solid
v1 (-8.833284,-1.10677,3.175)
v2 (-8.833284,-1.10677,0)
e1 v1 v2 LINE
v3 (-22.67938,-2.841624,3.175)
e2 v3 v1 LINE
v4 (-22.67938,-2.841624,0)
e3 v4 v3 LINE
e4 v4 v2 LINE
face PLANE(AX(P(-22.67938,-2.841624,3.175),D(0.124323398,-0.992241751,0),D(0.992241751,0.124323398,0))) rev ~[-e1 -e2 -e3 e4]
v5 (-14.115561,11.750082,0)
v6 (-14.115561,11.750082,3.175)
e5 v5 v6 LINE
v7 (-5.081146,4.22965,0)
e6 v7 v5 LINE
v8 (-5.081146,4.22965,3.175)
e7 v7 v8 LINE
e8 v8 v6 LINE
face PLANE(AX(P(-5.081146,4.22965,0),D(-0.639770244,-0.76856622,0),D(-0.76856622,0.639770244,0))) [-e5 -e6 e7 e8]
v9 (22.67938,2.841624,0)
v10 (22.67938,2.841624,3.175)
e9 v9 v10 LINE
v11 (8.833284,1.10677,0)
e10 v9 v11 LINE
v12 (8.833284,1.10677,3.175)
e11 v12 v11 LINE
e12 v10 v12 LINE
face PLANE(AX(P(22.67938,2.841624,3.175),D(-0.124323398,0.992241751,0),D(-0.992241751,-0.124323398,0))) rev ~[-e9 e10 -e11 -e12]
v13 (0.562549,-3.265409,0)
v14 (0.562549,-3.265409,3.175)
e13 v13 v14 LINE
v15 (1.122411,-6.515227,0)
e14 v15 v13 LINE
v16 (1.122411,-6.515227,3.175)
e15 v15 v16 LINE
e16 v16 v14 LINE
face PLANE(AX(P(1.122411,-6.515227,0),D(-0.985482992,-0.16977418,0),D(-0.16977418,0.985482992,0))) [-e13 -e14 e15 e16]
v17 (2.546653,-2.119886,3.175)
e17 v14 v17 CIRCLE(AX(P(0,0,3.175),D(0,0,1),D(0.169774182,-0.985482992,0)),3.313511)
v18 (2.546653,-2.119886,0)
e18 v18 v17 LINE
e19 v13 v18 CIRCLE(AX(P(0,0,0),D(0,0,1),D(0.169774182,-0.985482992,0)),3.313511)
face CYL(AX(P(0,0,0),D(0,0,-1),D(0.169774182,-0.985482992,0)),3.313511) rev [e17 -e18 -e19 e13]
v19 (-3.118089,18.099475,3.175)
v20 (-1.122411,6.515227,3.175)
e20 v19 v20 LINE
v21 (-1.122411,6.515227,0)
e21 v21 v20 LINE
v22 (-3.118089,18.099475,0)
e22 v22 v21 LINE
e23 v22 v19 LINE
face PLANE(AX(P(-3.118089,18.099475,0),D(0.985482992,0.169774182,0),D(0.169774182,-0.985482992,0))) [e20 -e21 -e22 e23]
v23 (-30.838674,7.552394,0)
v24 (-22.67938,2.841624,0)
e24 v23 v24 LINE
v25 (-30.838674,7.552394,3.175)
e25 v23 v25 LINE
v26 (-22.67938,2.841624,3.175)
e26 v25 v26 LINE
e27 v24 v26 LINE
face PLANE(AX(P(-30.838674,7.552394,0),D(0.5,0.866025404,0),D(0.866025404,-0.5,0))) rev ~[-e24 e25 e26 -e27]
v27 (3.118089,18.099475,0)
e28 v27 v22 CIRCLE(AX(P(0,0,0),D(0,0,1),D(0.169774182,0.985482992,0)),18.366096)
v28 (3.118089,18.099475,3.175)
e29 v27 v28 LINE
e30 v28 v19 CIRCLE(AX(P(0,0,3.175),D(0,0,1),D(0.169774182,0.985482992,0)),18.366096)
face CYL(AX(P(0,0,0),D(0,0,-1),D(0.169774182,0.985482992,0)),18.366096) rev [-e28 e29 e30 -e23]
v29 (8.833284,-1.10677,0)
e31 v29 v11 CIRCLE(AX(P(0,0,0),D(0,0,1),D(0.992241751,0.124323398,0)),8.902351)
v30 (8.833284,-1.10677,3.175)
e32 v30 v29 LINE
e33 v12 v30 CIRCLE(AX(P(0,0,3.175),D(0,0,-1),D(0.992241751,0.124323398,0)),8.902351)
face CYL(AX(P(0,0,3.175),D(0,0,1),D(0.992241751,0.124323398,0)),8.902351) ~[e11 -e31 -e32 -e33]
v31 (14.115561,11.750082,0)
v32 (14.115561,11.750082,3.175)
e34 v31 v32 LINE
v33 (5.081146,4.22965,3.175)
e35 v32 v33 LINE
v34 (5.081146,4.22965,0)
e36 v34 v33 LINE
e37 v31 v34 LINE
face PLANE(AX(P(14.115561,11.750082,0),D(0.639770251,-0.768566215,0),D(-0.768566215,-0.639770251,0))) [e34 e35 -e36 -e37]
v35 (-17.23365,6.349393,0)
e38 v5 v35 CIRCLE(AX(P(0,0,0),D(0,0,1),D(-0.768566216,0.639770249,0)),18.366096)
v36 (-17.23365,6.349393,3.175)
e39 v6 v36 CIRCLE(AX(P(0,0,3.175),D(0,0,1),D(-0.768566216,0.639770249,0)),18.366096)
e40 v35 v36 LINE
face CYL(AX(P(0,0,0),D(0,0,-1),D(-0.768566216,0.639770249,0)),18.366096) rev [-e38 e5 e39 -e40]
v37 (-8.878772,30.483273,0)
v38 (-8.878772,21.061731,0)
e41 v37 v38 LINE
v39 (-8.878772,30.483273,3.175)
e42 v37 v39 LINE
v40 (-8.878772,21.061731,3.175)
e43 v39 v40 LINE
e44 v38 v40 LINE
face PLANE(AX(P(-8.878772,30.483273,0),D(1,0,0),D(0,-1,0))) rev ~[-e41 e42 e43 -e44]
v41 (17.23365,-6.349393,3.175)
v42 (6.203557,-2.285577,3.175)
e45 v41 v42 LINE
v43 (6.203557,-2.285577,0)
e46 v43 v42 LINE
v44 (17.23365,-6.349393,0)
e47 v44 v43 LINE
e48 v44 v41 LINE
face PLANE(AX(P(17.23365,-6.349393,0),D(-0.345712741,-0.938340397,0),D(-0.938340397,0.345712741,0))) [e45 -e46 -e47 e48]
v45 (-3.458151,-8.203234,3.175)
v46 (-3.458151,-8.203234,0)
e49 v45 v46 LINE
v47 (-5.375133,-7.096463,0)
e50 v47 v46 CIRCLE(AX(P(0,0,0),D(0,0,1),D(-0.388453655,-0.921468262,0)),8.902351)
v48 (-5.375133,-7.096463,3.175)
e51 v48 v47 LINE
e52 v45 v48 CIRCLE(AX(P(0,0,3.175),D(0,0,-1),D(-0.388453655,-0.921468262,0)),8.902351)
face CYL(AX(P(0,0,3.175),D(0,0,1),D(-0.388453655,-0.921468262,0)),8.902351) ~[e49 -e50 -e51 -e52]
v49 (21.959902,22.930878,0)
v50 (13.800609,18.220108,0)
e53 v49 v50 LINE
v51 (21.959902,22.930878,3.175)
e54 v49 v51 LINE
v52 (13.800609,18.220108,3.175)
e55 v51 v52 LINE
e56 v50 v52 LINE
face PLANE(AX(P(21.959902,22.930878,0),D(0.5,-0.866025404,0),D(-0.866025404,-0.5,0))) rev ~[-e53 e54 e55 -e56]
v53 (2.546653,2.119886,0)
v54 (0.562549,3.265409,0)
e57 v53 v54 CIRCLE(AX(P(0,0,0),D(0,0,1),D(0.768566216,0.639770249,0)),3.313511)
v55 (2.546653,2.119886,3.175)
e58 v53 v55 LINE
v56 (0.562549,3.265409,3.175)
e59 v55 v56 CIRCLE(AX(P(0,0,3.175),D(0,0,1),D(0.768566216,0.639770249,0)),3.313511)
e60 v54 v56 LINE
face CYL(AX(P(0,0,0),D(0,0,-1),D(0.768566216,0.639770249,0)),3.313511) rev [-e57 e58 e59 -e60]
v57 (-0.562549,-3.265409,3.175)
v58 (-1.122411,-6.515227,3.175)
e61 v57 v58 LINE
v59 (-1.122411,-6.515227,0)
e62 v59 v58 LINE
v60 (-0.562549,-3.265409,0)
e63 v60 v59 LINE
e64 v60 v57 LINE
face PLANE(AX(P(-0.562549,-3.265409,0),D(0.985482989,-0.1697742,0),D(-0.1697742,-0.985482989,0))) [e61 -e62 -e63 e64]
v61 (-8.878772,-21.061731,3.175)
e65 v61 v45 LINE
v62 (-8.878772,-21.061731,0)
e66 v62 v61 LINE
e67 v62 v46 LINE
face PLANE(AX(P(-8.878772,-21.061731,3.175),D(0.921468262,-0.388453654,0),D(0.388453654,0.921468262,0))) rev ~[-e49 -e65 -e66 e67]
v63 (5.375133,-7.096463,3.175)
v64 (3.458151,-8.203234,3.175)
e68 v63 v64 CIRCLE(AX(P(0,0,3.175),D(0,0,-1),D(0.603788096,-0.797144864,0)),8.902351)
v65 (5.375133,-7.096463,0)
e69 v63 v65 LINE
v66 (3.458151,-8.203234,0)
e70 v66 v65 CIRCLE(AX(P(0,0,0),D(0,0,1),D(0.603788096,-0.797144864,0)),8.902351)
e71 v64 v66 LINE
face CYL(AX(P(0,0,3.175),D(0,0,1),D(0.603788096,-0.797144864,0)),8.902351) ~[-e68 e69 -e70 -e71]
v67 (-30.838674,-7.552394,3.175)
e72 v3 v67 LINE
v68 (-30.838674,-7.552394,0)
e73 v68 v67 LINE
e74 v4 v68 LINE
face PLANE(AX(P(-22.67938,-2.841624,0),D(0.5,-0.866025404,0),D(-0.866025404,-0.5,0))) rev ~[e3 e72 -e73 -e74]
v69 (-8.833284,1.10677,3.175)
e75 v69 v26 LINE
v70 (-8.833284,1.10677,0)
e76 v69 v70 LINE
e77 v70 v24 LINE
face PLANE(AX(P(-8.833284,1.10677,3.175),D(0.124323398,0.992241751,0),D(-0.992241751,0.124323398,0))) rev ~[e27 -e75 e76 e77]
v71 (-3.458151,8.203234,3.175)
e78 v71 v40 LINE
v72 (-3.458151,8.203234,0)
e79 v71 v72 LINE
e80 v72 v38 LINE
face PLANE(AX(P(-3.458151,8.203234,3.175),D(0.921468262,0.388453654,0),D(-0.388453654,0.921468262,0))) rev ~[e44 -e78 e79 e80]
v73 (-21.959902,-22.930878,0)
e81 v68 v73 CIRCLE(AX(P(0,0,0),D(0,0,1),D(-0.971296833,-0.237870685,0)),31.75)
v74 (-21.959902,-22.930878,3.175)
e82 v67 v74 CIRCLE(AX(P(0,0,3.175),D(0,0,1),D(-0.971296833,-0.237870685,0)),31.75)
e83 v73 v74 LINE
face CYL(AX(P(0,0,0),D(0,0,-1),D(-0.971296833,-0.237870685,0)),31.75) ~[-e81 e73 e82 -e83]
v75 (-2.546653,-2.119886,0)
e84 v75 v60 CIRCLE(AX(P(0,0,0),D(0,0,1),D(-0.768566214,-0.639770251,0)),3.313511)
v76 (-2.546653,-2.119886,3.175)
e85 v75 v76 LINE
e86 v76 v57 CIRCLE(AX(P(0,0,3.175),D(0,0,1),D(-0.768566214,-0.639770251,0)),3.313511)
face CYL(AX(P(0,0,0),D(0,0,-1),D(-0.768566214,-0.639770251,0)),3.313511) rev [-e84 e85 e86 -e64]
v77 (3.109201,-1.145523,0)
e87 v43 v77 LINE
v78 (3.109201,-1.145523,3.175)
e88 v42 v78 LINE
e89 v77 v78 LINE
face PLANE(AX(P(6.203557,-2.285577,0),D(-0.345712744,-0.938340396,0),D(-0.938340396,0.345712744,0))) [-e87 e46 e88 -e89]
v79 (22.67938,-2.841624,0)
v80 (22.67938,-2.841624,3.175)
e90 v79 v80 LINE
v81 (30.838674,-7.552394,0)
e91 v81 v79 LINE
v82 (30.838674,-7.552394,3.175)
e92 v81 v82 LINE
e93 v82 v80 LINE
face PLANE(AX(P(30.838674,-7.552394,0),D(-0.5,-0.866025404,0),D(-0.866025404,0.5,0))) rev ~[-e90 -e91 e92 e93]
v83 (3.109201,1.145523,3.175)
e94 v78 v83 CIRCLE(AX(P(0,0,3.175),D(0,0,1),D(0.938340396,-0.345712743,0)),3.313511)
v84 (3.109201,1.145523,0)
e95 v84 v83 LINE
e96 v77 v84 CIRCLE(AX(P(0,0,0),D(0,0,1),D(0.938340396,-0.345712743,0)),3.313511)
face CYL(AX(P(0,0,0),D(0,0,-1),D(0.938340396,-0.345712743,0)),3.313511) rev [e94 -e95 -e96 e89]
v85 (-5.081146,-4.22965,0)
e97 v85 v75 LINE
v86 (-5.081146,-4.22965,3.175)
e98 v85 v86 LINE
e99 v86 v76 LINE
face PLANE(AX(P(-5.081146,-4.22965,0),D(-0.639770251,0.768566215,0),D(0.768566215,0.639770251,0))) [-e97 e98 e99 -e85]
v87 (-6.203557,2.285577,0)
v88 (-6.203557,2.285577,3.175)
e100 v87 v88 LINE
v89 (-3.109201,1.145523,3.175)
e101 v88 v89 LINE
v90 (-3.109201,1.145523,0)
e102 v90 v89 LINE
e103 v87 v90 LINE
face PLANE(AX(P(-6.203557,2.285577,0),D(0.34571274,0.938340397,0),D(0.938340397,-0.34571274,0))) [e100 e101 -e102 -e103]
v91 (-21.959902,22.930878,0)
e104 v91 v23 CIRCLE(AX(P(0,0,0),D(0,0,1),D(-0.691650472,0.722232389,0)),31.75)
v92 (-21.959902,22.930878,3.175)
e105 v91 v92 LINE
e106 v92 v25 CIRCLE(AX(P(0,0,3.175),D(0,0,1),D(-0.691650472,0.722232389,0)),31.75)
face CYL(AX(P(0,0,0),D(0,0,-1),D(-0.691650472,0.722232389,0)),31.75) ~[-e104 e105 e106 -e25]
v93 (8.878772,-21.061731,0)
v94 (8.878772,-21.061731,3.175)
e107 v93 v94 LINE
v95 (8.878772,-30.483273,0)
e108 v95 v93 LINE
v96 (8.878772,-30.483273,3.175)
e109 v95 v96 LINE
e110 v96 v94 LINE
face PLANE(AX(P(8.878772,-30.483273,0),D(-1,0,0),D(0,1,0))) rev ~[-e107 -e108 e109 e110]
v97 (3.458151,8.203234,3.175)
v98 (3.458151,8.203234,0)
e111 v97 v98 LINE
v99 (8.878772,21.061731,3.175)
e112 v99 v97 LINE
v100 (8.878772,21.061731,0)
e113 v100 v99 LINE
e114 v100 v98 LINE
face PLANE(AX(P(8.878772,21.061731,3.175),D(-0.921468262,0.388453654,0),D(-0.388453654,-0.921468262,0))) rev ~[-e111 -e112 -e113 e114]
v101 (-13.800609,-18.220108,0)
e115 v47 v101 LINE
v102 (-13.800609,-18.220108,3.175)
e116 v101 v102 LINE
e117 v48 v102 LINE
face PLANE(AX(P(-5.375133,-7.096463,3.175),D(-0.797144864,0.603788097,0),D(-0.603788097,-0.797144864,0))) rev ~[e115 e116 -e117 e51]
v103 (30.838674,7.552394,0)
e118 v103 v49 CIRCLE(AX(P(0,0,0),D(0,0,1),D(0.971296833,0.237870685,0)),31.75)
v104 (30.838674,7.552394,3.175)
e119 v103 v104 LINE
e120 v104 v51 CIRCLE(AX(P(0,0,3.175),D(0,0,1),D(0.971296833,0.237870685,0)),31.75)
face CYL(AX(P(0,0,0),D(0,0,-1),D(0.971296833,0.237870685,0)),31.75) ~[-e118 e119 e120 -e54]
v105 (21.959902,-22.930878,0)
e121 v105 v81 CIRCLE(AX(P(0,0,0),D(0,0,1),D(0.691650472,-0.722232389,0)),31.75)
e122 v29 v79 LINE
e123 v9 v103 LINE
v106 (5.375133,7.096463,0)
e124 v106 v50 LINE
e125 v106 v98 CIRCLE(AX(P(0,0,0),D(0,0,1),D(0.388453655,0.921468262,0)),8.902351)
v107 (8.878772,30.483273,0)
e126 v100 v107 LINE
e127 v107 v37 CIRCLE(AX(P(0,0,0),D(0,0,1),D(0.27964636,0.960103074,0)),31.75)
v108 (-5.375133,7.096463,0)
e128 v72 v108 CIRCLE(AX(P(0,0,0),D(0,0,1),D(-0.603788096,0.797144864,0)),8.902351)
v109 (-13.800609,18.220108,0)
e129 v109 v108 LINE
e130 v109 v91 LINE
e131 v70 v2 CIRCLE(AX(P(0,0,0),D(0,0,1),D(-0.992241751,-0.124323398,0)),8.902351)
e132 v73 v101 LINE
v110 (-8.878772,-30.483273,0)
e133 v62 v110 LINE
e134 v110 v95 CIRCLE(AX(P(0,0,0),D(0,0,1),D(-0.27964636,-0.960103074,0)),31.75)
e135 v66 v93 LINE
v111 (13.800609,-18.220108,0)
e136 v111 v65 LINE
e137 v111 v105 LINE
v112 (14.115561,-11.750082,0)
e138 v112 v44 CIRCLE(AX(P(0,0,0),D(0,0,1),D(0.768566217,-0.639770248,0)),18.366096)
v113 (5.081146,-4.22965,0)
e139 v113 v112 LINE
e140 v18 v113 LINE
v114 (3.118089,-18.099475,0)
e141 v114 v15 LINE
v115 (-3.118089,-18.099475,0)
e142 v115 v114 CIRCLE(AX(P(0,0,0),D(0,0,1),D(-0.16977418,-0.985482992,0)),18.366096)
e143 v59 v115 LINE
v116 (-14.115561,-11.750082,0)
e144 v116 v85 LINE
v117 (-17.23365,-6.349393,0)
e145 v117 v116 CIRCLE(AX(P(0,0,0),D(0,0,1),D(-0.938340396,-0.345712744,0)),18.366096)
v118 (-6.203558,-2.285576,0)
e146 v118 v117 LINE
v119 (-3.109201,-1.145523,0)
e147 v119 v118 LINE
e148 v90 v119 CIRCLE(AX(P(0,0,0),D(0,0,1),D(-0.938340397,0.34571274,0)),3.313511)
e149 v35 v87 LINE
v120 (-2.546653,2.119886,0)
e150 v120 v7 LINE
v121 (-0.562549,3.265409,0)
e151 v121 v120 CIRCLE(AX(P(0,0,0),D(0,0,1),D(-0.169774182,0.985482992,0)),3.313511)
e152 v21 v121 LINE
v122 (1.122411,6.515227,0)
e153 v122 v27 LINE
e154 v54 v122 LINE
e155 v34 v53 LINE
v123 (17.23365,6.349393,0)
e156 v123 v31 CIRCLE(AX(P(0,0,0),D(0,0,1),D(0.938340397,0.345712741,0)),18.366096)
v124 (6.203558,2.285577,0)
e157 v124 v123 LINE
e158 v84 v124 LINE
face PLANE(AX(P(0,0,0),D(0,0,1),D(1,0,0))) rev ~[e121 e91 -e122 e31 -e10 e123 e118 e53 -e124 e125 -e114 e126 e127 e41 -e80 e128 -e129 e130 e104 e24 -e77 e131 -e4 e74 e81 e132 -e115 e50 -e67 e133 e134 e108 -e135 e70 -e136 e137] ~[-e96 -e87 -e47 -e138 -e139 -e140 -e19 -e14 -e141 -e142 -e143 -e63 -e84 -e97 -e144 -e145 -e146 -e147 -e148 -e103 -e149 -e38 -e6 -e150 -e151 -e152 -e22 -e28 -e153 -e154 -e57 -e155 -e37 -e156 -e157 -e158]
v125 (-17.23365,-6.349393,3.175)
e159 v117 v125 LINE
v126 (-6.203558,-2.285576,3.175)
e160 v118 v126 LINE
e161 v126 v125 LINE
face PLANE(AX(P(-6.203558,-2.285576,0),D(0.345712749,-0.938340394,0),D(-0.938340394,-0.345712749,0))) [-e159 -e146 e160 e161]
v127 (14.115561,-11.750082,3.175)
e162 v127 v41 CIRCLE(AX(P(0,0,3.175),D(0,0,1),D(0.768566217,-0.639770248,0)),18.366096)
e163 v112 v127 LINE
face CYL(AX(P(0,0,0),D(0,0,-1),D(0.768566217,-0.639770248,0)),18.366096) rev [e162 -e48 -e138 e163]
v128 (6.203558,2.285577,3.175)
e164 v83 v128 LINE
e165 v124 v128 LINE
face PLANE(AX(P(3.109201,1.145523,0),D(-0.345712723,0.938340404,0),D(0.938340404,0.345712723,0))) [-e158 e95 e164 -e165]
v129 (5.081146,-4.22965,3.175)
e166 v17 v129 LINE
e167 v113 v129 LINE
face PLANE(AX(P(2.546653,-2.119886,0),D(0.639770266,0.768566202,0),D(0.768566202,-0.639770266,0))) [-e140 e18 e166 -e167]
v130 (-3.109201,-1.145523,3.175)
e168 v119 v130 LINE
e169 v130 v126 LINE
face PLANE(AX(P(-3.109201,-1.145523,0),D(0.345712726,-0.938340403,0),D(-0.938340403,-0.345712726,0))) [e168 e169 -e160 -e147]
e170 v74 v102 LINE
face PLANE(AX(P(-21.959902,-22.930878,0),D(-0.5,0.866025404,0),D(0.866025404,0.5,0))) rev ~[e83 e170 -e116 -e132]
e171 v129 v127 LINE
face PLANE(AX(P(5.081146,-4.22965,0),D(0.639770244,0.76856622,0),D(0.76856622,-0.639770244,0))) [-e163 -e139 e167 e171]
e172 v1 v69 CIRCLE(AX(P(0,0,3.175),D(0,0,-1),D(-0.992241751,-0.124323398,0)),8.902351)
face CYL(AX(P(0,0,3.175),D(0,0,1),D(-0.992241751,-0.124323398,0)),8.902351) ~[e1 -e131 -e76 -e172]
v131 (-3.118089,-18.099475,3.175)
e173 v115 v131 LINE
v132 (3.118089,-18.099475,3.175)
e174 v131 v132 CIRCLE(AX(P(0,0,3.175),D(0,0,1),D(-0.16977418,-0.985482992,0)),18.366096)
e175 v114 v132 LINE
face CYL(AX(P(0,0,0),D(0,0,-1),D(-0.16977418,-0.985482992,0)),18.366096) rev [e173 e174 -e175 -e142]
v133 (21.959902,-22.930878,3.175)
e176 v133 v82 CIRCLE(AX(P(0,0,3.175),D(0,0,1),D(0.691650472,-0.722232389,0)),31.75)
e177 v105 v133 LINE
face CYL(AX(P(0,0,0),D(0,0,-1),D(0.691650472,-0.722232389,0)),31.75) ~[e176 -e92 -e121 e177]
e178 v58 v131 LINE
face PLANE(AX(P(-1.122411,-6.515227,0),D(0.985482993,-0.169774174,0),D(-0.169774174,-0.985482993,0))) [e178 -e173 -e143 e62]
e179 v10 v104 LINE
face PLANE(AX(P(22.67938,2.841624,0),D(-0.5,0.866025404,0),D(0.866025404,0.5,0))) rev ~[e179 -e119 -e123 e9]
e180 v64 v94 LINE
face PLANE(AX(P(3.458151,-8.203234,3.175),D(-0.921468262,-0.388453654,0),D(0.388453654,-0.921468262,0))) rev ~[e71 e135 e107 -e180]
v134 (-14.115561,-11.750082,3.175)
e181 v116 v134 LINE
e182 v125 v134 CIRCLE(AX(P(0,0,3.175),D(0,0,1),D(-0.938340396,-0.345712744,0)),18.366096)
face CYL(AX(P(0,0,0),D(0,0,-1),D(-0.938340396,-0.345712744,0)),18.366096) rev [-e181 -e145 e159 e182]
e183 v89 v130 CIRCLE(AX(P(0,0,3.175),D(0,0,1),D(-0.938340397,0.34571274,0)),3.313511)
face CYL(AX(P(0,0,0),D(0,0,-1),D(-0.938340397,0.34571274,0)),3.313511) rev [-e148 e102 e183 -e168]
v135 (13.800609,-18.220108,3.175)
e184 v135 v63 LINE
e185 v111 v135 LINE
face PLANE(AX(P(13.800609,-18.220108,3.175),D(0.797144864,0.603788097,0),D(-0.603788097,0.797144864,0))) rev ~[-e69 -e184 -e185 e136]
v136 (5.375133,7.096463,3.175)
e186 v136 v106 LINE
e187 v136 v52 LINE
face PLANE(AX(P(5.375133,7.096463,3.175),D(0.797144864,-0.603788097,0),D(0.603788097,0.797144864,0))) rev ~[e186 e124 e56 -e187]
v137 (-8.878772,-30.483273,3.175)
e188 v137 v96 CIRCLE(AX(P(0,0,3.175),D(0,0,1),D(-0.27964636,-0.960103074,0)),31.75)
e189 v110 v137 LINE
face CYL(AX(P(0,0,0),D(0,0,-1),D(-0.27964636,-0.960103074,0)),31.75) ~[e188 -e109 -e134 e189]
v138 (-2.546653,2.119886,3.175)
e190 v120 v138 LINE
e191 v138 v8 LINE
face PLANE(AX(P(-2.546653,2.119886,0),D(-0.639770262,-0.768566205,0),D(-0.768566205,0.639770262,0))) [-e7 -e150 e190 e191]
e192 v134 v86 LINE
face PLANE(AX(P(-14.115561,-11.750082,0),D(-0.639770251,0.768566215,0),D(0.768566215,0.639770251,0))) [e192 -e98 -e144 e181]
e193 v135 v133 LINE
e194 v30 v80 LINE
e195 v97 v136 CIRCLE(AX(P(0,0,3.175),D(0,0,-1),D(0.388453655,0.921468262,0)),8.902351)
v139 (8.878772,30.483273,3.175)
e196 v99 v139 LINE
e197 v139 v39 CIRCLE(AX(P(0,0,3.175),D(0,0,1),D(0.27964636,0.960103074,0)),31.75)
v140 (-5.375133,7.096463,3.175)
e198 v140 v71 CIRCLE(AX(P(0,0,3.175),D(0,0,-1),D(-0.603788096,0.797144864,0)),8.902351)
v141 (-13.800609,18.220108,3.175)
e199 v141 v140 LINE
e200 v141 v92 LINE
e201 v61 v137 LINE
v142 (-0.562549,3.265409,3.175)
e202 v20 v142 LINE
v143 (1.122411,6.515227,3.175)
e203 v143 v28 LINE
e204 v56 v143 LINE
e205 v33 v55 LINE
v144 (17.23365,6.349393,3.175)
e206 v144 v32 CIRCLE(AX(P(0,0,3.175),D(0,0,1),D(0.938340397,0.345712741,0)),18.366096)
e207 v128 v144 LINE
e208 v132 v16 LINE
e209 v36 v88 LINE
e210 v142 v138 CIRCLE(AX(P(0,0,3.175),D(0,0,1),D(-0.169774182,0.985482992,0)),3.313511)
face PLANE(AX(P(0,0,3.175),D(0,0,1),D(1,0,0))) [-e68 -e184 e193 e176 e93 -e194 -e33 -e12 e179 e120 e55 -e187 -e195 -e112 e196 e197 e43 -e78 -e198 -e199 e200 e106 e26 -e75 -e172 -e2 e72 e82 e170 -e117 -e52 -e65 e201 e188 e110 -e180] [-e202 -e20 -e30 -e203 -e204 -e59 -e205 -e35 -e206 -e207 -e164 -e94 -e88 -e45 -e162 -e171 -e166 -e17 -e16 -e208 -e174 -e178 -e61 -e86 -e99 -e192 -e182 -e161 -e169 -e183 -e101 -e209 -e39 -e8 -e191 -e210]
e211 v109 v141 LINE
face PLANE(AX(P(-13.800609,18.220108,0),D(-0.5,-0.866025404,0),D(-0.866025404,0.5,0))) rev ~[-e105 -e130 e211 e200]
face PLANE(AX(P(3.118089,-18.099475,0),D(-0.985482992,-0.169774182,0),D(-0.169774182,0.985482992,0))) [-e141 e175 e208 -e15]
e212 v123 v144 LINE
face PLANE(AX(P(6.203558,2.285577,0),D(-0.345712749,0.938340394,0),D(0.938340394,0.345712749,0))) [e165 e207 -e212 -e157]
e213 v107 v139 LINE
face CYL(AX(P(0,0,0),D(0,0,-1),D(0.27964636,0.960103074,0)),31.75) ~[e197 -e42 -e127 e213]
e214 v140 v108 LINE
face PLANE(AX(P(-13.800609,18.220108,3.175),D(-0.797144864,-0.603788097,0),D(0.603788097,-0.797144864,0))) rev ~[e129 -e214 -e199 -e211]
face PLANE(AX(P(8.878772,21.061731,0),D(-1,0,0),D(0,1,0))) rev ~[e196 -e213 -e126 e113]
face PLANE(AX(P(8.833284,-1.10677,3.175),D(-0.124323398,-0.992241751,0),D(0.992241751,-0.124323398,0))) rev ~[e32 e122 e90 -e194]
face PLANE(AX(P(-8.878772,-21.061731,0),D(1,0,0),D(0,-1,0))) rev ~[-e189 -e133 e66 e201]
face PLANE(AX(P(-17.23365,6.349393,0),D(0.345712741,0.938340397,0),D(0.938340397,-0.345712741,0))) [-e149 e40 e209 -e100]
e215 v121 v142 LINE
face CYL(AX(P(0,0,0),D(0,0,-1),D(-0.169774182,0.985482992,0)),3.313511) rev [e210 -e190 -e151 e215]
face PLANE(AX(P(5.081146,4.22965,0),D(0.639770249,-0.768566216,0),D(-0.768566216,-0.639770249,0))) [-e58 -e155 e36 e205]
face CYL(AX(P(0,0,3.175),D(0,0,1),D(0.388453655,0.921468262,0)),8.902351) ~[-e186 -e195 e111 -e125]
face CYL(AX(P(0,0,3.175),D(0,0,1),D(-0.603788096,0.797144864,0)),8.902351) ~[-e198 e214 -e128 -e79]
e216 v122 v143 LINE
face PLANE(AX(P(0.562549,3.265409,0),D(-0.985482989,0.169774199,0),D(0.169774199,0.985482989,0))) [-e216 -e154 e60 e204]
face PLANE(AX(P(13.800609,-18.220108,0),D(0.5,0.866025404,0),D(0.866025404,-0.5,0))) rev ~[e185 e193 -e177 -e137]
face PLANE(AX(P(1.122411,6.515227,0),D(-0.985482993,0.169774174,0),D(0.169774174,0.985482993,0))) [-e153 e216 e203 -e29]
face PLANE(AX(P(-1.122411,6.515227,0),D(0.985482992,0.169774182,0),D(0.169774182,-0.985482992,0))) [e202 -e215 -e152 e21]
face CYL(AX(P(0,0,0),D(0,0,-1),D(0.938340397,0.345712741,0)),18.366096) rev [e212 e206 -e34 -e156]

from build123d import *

# Parameters (mm, degrees)
EXTRUDE1_DEPTH     = 3.175
CUT_EXTRUDE1_DEPTH = 4.175


with BuildPart() as part:
    # Sketch1 → Extrude1 (new body)
    with BuildSketch(Plane.XY):
        with BuildLine():
            Line((22.679380466, 2.841623674), (30.838674439, 7.552394246))
            ThreePointArc((30.838674439, 7.552394246), (27.49630657, 15.875), (21.959902496, 22.93087836))
            Line((21.959902496, 22.93087836), (13.800608523, 18.220107788))
            ThreePointArc((13.800608523, 18.220107788), (11.428354249, 19.794490207), (8.878771943, 21.061731462))
            Line((8.878771943, 21.061731462), (8.878771943, 30.483272606))
            ThreePointArc((8.878771943, 30.483272606), (0, 31.75), (-8.878771943, 30.483272606))
            Line((-8.878771943, 30.483272606), (-8.878771943, 21.061731462))
            ThreePointArc((-8.878771943, 21.061731462), (-11.42835425, 19.794490207), (-13.800608523, 18.220107788))
            Line((-13.800608523, 18.220107788), (-21.959902496, 22.93087836))
            ThreePointArc((-21.959902496, 22.93087836), (-27.49630657, 15.875), (-30.838674439, 7.552394246))
            Line((-30.838674439, 7.552394246), (-22.679380466, 2.841623674))
            ThreePointArc((-22.679380466, 2.841623674), (-22.856708499, 0), (-22.679380466, -2.841623674))
            Line((-22.679380466, -2.841623674), (-30.838674439, -7.552394246))
            ThreePointArc((-30.838674439, -7.552394246), (-27.49630657, -15.875), (-21.959902496, -22.93087836))
            Line((-21.959902496, -22.93087836), (-13.800608523, -18.220107788))
            ThreePointArc((-13.800608523, -18.220107788), (-11.428354249, -19.794490207), (-8.878771943, -21.061731462))
            Line((-8.878771943, -21.061731462), (-8.878771943, -30.483272606))
            ThreePointArc((-8.878771943, -30.483272606), (0, -31.75), (8.878771943, -30.483272606))
            Line((8.878771943, -30.483272606), (8.878771943, -21.061731462))
            ThreePointArc((8.878771943, -21.061731462), (11.42835425, -19.794490207), (13.800608523, -18.220107788))
            Line((13.800608523, -18.220107788), (21.959902496, -22.93087836))
            ThreePointArc((21.959902496, -22.93087836), (27.49630657, -15.875), (30.838674439, -7.552394246))
            Line((30.838674439, -7.552394246), (22.679380466, -2.841623674))
            ThreePointArc((22.679380466, -2.841623674), (22.856708499, 0), (22.679380466, 2.841623674))
        make_face()
        with BuildLine():
            Line((5.081146111, 4.229650041), (2.54665271, 2.119885858))
            ThreePointArc((2.54665271, 2.119885858), (1.656755595, 2.869584813), (0.562548705, 3.265408865))
            Line((0.562548705, 3.265408865), (1.122411451, 6.515226654))
            Line((1.122411451, 6.515226654), (3.118088913, 18.09947505))
            ThreePointArc((3.118088913, 18.09947505), (1.4e-08, 18.366095814), (-3.118088886, 18.09947505))
            Line((-3.118088886, 18.09947505), (-1.122411315, 6.515226635))
            Line((-1.122411315, 6.515226635), (-0.562548631, 3.265408874))
            ThreePointArc((-0.562548631, 3.265408874), (-1.656755527, 2.869584841), (-2.546652654, 2.119885903))
            Line((-2.546652654, 2.119885903), (-5.081146055, 4.22965016))
            Line((-5.081146055, 4.22965016), (-14.115560718, 11.750081737))
            ThreePointArc((-14.115560718, 11.750081737), (-15.90550552, 9.183047919), (-17.233649617, 6.349393341))
            Line((-17.233649617, 6.349393341), (-6.203557422, 2.285576607))
            Line((-6.203557422, 2.285576607), (-3.109201328, 1.145523033))
            ThreePointArc((-3.109201328, 1.145523033), (-3.313511107, 5e-08), (-3.109201345, -1.145522936))
            Line((-3.109201345, -1.145522936), (-6.203557501, -2.285576481))
            Line((-6.203557501, -2.285576481), (-17.233649626, -6.3493933))
            ThreePointArc((-17.233649626, -6.3493933), (-15.905505528, -9.183047878), (-14.115560727, -11.750081696))
            Line((-14.115560727, -11.750081696), (-5.081146102, -4.229650015))
            Line((-5.081146102, -4.229650015), (-2.546652687, -2.119885812))
            ThreePointArc((-2.546652687, -2.119885812), (-1.656755574, -2.869584762), (-0.562548689, -3.265408812))
            Line((-0.562548689, -3.265408812), (-1.122411442, -6.515226628))
            Line((-1.122411442, -6.515226628), (-3.118088903, -18.099475024))
            ThreePointArc((-3.118088903, -18.099475024), (-4e-09, -18.366095785), (3.118088895, -18.099475024))
            Line((3.118088895, -18.099475024), (1.122411325, -6.515226609))
            Line((1.122411325, -6.515226609), (0.562548643, -3.265408824))
            ThreePointArc((0.562548643, -3.265408824), (1.656755537, -2.869584794), (2.546652665, -2.119885861))
            Line((2.546652665, -2.119885861), (5.081146064, -4.229650134))
            Line((5.081146064, -4.229650134), (14.115560728, -11.750081711))
            ThreePointArc((14.115560728, -11.750081711), (15.905505529, -9.183047893), (17.233649627, -6.349393315))
            Line((17.233649627, -6.349393315), (6.203557431, -2.285576582))
            Line((6.203557431, -2.285576582), (3.109201343, -1.145522994))
            ThreePointArc((3.109201343, -1.145522994), (3.313511126, -1.1e-08), (3.109201368, 1.145522978))
            Line((3.109201368, 1.145522978), (6.203557511, 2.285576507))
            Line((6.203557511, 2.285576507), (17.233649636, 6.349393326))
            ThreePointArc((17.233649636, 6.349393326), (15.905505541, 9.183047906), (14.115560736, 11.750081722))
            Line((14.115560736, 11.750081722), (5.081146111, 4.229650041))
        make_face(mode=Mode.SUBTRACT)
    extrude(amount=EXTRUDE1_DEPTH)

    # Sketch2 → Cut-Extrude1 (cut, through all)
    with BuildSketch(Plane.XY.offset(3.175)):
        with BuildLine():
            Line((8.878771943, 21.061731462), (3.458150609, 8.203233505))
            ThreePointArc((3.458150609, 8.203233505), (4.451175282, 7.709661742), (5.375133304, 7.09646303))
            Line((5.375133304, 7.09646303), (13.800608523, 18.220107788))
            ThreePointArc((13.800608523, 18.220107788), (11.428354249, 19.794490207), (8.878771943, 21.061731462))
        make_face()
        with BuildLine():
            Line((22.679380466, 2.841623674), (8.833283913, 1.106770475))
            ThreePointArc((8.833283913, 1.106770475), (8.902350564, 0), (8.833283913, -1.106770475))
            Line((8.833283913, -1.106770475), (22.679380466, -2.841623674))
            ThreePointArc((22.679380466, -2.841623674), (22.856708499, 0), (22.679380466, 2.841623674))
        make_face()
        with BuildLine():
            Line((13.800608523, -18.220107788), (5.375133304, -7.09646303))
            ThreePointArc((5.375133304, -7.09646303), (4.451175282, -7.709661742), (3.458150609, -8.203233505))
            Line((3.458150609, -8.203233505), (8.878771943, -21.061731462))
            ThreePointArc((8.878771943, -21.061731462), (11.42835425, -19.794490207), (13.800608523, -18.220107788))
        make_face()
        with BuildLine():
            Line((-8.878771943, -21.061731462), (-3.458150609, -8.203233505))
            ThreePointArc((-3.458150609, -8.203233505), (-4.451175282, -7.709661742), (-5.375133304, -7.09646303))
            Line((-5.375133304, -7.09646303), (-13.800608523, -18.220107788))
            ThreePointArc((-13.800608523, -18.220107788), (-11.428354249, -19.794490207), (-8.878771943, -21.061731462))
        make_face()
        with BuildLine():
            Line((-22.679380466, -2.841623674), (-8.833283913, -1.106770475))
            ThreePointArc((-8.833283913, -1.106770475), (-8.902350564, 0), (-8.833283913, 1.106770475))
            Line((-8.833283913, 1.106770475), (-22.679380466, 2.841623674))
            ThreePointArc((-22.679380466, 2.841623674), (-22.856708499, 0), (-22.679380466, -2.841623674))
        make_face()
        with BuildLine():
            Line((-13.800608523, 18.220107788), (-5.375133304, 7.09646303))
            ThreePointArc((-5.375133304, 7.09646303), (-4.451175282, 7.709661742), (-3.458150609, 8.203233505))
            Line((-3.458150609, 8.203233505), (-8.878771943, 21.061731462))
            ThreePointArc((-8.878771943, 21.061731462), (-11.42835425, 19.794490207), (-13.800608523, 18.220107788))
        make_face()
    extrude(amount=-CUT_EXTRUDE1_DEPTH, mode=Mode.SUBTRACT)


solid = part.part
